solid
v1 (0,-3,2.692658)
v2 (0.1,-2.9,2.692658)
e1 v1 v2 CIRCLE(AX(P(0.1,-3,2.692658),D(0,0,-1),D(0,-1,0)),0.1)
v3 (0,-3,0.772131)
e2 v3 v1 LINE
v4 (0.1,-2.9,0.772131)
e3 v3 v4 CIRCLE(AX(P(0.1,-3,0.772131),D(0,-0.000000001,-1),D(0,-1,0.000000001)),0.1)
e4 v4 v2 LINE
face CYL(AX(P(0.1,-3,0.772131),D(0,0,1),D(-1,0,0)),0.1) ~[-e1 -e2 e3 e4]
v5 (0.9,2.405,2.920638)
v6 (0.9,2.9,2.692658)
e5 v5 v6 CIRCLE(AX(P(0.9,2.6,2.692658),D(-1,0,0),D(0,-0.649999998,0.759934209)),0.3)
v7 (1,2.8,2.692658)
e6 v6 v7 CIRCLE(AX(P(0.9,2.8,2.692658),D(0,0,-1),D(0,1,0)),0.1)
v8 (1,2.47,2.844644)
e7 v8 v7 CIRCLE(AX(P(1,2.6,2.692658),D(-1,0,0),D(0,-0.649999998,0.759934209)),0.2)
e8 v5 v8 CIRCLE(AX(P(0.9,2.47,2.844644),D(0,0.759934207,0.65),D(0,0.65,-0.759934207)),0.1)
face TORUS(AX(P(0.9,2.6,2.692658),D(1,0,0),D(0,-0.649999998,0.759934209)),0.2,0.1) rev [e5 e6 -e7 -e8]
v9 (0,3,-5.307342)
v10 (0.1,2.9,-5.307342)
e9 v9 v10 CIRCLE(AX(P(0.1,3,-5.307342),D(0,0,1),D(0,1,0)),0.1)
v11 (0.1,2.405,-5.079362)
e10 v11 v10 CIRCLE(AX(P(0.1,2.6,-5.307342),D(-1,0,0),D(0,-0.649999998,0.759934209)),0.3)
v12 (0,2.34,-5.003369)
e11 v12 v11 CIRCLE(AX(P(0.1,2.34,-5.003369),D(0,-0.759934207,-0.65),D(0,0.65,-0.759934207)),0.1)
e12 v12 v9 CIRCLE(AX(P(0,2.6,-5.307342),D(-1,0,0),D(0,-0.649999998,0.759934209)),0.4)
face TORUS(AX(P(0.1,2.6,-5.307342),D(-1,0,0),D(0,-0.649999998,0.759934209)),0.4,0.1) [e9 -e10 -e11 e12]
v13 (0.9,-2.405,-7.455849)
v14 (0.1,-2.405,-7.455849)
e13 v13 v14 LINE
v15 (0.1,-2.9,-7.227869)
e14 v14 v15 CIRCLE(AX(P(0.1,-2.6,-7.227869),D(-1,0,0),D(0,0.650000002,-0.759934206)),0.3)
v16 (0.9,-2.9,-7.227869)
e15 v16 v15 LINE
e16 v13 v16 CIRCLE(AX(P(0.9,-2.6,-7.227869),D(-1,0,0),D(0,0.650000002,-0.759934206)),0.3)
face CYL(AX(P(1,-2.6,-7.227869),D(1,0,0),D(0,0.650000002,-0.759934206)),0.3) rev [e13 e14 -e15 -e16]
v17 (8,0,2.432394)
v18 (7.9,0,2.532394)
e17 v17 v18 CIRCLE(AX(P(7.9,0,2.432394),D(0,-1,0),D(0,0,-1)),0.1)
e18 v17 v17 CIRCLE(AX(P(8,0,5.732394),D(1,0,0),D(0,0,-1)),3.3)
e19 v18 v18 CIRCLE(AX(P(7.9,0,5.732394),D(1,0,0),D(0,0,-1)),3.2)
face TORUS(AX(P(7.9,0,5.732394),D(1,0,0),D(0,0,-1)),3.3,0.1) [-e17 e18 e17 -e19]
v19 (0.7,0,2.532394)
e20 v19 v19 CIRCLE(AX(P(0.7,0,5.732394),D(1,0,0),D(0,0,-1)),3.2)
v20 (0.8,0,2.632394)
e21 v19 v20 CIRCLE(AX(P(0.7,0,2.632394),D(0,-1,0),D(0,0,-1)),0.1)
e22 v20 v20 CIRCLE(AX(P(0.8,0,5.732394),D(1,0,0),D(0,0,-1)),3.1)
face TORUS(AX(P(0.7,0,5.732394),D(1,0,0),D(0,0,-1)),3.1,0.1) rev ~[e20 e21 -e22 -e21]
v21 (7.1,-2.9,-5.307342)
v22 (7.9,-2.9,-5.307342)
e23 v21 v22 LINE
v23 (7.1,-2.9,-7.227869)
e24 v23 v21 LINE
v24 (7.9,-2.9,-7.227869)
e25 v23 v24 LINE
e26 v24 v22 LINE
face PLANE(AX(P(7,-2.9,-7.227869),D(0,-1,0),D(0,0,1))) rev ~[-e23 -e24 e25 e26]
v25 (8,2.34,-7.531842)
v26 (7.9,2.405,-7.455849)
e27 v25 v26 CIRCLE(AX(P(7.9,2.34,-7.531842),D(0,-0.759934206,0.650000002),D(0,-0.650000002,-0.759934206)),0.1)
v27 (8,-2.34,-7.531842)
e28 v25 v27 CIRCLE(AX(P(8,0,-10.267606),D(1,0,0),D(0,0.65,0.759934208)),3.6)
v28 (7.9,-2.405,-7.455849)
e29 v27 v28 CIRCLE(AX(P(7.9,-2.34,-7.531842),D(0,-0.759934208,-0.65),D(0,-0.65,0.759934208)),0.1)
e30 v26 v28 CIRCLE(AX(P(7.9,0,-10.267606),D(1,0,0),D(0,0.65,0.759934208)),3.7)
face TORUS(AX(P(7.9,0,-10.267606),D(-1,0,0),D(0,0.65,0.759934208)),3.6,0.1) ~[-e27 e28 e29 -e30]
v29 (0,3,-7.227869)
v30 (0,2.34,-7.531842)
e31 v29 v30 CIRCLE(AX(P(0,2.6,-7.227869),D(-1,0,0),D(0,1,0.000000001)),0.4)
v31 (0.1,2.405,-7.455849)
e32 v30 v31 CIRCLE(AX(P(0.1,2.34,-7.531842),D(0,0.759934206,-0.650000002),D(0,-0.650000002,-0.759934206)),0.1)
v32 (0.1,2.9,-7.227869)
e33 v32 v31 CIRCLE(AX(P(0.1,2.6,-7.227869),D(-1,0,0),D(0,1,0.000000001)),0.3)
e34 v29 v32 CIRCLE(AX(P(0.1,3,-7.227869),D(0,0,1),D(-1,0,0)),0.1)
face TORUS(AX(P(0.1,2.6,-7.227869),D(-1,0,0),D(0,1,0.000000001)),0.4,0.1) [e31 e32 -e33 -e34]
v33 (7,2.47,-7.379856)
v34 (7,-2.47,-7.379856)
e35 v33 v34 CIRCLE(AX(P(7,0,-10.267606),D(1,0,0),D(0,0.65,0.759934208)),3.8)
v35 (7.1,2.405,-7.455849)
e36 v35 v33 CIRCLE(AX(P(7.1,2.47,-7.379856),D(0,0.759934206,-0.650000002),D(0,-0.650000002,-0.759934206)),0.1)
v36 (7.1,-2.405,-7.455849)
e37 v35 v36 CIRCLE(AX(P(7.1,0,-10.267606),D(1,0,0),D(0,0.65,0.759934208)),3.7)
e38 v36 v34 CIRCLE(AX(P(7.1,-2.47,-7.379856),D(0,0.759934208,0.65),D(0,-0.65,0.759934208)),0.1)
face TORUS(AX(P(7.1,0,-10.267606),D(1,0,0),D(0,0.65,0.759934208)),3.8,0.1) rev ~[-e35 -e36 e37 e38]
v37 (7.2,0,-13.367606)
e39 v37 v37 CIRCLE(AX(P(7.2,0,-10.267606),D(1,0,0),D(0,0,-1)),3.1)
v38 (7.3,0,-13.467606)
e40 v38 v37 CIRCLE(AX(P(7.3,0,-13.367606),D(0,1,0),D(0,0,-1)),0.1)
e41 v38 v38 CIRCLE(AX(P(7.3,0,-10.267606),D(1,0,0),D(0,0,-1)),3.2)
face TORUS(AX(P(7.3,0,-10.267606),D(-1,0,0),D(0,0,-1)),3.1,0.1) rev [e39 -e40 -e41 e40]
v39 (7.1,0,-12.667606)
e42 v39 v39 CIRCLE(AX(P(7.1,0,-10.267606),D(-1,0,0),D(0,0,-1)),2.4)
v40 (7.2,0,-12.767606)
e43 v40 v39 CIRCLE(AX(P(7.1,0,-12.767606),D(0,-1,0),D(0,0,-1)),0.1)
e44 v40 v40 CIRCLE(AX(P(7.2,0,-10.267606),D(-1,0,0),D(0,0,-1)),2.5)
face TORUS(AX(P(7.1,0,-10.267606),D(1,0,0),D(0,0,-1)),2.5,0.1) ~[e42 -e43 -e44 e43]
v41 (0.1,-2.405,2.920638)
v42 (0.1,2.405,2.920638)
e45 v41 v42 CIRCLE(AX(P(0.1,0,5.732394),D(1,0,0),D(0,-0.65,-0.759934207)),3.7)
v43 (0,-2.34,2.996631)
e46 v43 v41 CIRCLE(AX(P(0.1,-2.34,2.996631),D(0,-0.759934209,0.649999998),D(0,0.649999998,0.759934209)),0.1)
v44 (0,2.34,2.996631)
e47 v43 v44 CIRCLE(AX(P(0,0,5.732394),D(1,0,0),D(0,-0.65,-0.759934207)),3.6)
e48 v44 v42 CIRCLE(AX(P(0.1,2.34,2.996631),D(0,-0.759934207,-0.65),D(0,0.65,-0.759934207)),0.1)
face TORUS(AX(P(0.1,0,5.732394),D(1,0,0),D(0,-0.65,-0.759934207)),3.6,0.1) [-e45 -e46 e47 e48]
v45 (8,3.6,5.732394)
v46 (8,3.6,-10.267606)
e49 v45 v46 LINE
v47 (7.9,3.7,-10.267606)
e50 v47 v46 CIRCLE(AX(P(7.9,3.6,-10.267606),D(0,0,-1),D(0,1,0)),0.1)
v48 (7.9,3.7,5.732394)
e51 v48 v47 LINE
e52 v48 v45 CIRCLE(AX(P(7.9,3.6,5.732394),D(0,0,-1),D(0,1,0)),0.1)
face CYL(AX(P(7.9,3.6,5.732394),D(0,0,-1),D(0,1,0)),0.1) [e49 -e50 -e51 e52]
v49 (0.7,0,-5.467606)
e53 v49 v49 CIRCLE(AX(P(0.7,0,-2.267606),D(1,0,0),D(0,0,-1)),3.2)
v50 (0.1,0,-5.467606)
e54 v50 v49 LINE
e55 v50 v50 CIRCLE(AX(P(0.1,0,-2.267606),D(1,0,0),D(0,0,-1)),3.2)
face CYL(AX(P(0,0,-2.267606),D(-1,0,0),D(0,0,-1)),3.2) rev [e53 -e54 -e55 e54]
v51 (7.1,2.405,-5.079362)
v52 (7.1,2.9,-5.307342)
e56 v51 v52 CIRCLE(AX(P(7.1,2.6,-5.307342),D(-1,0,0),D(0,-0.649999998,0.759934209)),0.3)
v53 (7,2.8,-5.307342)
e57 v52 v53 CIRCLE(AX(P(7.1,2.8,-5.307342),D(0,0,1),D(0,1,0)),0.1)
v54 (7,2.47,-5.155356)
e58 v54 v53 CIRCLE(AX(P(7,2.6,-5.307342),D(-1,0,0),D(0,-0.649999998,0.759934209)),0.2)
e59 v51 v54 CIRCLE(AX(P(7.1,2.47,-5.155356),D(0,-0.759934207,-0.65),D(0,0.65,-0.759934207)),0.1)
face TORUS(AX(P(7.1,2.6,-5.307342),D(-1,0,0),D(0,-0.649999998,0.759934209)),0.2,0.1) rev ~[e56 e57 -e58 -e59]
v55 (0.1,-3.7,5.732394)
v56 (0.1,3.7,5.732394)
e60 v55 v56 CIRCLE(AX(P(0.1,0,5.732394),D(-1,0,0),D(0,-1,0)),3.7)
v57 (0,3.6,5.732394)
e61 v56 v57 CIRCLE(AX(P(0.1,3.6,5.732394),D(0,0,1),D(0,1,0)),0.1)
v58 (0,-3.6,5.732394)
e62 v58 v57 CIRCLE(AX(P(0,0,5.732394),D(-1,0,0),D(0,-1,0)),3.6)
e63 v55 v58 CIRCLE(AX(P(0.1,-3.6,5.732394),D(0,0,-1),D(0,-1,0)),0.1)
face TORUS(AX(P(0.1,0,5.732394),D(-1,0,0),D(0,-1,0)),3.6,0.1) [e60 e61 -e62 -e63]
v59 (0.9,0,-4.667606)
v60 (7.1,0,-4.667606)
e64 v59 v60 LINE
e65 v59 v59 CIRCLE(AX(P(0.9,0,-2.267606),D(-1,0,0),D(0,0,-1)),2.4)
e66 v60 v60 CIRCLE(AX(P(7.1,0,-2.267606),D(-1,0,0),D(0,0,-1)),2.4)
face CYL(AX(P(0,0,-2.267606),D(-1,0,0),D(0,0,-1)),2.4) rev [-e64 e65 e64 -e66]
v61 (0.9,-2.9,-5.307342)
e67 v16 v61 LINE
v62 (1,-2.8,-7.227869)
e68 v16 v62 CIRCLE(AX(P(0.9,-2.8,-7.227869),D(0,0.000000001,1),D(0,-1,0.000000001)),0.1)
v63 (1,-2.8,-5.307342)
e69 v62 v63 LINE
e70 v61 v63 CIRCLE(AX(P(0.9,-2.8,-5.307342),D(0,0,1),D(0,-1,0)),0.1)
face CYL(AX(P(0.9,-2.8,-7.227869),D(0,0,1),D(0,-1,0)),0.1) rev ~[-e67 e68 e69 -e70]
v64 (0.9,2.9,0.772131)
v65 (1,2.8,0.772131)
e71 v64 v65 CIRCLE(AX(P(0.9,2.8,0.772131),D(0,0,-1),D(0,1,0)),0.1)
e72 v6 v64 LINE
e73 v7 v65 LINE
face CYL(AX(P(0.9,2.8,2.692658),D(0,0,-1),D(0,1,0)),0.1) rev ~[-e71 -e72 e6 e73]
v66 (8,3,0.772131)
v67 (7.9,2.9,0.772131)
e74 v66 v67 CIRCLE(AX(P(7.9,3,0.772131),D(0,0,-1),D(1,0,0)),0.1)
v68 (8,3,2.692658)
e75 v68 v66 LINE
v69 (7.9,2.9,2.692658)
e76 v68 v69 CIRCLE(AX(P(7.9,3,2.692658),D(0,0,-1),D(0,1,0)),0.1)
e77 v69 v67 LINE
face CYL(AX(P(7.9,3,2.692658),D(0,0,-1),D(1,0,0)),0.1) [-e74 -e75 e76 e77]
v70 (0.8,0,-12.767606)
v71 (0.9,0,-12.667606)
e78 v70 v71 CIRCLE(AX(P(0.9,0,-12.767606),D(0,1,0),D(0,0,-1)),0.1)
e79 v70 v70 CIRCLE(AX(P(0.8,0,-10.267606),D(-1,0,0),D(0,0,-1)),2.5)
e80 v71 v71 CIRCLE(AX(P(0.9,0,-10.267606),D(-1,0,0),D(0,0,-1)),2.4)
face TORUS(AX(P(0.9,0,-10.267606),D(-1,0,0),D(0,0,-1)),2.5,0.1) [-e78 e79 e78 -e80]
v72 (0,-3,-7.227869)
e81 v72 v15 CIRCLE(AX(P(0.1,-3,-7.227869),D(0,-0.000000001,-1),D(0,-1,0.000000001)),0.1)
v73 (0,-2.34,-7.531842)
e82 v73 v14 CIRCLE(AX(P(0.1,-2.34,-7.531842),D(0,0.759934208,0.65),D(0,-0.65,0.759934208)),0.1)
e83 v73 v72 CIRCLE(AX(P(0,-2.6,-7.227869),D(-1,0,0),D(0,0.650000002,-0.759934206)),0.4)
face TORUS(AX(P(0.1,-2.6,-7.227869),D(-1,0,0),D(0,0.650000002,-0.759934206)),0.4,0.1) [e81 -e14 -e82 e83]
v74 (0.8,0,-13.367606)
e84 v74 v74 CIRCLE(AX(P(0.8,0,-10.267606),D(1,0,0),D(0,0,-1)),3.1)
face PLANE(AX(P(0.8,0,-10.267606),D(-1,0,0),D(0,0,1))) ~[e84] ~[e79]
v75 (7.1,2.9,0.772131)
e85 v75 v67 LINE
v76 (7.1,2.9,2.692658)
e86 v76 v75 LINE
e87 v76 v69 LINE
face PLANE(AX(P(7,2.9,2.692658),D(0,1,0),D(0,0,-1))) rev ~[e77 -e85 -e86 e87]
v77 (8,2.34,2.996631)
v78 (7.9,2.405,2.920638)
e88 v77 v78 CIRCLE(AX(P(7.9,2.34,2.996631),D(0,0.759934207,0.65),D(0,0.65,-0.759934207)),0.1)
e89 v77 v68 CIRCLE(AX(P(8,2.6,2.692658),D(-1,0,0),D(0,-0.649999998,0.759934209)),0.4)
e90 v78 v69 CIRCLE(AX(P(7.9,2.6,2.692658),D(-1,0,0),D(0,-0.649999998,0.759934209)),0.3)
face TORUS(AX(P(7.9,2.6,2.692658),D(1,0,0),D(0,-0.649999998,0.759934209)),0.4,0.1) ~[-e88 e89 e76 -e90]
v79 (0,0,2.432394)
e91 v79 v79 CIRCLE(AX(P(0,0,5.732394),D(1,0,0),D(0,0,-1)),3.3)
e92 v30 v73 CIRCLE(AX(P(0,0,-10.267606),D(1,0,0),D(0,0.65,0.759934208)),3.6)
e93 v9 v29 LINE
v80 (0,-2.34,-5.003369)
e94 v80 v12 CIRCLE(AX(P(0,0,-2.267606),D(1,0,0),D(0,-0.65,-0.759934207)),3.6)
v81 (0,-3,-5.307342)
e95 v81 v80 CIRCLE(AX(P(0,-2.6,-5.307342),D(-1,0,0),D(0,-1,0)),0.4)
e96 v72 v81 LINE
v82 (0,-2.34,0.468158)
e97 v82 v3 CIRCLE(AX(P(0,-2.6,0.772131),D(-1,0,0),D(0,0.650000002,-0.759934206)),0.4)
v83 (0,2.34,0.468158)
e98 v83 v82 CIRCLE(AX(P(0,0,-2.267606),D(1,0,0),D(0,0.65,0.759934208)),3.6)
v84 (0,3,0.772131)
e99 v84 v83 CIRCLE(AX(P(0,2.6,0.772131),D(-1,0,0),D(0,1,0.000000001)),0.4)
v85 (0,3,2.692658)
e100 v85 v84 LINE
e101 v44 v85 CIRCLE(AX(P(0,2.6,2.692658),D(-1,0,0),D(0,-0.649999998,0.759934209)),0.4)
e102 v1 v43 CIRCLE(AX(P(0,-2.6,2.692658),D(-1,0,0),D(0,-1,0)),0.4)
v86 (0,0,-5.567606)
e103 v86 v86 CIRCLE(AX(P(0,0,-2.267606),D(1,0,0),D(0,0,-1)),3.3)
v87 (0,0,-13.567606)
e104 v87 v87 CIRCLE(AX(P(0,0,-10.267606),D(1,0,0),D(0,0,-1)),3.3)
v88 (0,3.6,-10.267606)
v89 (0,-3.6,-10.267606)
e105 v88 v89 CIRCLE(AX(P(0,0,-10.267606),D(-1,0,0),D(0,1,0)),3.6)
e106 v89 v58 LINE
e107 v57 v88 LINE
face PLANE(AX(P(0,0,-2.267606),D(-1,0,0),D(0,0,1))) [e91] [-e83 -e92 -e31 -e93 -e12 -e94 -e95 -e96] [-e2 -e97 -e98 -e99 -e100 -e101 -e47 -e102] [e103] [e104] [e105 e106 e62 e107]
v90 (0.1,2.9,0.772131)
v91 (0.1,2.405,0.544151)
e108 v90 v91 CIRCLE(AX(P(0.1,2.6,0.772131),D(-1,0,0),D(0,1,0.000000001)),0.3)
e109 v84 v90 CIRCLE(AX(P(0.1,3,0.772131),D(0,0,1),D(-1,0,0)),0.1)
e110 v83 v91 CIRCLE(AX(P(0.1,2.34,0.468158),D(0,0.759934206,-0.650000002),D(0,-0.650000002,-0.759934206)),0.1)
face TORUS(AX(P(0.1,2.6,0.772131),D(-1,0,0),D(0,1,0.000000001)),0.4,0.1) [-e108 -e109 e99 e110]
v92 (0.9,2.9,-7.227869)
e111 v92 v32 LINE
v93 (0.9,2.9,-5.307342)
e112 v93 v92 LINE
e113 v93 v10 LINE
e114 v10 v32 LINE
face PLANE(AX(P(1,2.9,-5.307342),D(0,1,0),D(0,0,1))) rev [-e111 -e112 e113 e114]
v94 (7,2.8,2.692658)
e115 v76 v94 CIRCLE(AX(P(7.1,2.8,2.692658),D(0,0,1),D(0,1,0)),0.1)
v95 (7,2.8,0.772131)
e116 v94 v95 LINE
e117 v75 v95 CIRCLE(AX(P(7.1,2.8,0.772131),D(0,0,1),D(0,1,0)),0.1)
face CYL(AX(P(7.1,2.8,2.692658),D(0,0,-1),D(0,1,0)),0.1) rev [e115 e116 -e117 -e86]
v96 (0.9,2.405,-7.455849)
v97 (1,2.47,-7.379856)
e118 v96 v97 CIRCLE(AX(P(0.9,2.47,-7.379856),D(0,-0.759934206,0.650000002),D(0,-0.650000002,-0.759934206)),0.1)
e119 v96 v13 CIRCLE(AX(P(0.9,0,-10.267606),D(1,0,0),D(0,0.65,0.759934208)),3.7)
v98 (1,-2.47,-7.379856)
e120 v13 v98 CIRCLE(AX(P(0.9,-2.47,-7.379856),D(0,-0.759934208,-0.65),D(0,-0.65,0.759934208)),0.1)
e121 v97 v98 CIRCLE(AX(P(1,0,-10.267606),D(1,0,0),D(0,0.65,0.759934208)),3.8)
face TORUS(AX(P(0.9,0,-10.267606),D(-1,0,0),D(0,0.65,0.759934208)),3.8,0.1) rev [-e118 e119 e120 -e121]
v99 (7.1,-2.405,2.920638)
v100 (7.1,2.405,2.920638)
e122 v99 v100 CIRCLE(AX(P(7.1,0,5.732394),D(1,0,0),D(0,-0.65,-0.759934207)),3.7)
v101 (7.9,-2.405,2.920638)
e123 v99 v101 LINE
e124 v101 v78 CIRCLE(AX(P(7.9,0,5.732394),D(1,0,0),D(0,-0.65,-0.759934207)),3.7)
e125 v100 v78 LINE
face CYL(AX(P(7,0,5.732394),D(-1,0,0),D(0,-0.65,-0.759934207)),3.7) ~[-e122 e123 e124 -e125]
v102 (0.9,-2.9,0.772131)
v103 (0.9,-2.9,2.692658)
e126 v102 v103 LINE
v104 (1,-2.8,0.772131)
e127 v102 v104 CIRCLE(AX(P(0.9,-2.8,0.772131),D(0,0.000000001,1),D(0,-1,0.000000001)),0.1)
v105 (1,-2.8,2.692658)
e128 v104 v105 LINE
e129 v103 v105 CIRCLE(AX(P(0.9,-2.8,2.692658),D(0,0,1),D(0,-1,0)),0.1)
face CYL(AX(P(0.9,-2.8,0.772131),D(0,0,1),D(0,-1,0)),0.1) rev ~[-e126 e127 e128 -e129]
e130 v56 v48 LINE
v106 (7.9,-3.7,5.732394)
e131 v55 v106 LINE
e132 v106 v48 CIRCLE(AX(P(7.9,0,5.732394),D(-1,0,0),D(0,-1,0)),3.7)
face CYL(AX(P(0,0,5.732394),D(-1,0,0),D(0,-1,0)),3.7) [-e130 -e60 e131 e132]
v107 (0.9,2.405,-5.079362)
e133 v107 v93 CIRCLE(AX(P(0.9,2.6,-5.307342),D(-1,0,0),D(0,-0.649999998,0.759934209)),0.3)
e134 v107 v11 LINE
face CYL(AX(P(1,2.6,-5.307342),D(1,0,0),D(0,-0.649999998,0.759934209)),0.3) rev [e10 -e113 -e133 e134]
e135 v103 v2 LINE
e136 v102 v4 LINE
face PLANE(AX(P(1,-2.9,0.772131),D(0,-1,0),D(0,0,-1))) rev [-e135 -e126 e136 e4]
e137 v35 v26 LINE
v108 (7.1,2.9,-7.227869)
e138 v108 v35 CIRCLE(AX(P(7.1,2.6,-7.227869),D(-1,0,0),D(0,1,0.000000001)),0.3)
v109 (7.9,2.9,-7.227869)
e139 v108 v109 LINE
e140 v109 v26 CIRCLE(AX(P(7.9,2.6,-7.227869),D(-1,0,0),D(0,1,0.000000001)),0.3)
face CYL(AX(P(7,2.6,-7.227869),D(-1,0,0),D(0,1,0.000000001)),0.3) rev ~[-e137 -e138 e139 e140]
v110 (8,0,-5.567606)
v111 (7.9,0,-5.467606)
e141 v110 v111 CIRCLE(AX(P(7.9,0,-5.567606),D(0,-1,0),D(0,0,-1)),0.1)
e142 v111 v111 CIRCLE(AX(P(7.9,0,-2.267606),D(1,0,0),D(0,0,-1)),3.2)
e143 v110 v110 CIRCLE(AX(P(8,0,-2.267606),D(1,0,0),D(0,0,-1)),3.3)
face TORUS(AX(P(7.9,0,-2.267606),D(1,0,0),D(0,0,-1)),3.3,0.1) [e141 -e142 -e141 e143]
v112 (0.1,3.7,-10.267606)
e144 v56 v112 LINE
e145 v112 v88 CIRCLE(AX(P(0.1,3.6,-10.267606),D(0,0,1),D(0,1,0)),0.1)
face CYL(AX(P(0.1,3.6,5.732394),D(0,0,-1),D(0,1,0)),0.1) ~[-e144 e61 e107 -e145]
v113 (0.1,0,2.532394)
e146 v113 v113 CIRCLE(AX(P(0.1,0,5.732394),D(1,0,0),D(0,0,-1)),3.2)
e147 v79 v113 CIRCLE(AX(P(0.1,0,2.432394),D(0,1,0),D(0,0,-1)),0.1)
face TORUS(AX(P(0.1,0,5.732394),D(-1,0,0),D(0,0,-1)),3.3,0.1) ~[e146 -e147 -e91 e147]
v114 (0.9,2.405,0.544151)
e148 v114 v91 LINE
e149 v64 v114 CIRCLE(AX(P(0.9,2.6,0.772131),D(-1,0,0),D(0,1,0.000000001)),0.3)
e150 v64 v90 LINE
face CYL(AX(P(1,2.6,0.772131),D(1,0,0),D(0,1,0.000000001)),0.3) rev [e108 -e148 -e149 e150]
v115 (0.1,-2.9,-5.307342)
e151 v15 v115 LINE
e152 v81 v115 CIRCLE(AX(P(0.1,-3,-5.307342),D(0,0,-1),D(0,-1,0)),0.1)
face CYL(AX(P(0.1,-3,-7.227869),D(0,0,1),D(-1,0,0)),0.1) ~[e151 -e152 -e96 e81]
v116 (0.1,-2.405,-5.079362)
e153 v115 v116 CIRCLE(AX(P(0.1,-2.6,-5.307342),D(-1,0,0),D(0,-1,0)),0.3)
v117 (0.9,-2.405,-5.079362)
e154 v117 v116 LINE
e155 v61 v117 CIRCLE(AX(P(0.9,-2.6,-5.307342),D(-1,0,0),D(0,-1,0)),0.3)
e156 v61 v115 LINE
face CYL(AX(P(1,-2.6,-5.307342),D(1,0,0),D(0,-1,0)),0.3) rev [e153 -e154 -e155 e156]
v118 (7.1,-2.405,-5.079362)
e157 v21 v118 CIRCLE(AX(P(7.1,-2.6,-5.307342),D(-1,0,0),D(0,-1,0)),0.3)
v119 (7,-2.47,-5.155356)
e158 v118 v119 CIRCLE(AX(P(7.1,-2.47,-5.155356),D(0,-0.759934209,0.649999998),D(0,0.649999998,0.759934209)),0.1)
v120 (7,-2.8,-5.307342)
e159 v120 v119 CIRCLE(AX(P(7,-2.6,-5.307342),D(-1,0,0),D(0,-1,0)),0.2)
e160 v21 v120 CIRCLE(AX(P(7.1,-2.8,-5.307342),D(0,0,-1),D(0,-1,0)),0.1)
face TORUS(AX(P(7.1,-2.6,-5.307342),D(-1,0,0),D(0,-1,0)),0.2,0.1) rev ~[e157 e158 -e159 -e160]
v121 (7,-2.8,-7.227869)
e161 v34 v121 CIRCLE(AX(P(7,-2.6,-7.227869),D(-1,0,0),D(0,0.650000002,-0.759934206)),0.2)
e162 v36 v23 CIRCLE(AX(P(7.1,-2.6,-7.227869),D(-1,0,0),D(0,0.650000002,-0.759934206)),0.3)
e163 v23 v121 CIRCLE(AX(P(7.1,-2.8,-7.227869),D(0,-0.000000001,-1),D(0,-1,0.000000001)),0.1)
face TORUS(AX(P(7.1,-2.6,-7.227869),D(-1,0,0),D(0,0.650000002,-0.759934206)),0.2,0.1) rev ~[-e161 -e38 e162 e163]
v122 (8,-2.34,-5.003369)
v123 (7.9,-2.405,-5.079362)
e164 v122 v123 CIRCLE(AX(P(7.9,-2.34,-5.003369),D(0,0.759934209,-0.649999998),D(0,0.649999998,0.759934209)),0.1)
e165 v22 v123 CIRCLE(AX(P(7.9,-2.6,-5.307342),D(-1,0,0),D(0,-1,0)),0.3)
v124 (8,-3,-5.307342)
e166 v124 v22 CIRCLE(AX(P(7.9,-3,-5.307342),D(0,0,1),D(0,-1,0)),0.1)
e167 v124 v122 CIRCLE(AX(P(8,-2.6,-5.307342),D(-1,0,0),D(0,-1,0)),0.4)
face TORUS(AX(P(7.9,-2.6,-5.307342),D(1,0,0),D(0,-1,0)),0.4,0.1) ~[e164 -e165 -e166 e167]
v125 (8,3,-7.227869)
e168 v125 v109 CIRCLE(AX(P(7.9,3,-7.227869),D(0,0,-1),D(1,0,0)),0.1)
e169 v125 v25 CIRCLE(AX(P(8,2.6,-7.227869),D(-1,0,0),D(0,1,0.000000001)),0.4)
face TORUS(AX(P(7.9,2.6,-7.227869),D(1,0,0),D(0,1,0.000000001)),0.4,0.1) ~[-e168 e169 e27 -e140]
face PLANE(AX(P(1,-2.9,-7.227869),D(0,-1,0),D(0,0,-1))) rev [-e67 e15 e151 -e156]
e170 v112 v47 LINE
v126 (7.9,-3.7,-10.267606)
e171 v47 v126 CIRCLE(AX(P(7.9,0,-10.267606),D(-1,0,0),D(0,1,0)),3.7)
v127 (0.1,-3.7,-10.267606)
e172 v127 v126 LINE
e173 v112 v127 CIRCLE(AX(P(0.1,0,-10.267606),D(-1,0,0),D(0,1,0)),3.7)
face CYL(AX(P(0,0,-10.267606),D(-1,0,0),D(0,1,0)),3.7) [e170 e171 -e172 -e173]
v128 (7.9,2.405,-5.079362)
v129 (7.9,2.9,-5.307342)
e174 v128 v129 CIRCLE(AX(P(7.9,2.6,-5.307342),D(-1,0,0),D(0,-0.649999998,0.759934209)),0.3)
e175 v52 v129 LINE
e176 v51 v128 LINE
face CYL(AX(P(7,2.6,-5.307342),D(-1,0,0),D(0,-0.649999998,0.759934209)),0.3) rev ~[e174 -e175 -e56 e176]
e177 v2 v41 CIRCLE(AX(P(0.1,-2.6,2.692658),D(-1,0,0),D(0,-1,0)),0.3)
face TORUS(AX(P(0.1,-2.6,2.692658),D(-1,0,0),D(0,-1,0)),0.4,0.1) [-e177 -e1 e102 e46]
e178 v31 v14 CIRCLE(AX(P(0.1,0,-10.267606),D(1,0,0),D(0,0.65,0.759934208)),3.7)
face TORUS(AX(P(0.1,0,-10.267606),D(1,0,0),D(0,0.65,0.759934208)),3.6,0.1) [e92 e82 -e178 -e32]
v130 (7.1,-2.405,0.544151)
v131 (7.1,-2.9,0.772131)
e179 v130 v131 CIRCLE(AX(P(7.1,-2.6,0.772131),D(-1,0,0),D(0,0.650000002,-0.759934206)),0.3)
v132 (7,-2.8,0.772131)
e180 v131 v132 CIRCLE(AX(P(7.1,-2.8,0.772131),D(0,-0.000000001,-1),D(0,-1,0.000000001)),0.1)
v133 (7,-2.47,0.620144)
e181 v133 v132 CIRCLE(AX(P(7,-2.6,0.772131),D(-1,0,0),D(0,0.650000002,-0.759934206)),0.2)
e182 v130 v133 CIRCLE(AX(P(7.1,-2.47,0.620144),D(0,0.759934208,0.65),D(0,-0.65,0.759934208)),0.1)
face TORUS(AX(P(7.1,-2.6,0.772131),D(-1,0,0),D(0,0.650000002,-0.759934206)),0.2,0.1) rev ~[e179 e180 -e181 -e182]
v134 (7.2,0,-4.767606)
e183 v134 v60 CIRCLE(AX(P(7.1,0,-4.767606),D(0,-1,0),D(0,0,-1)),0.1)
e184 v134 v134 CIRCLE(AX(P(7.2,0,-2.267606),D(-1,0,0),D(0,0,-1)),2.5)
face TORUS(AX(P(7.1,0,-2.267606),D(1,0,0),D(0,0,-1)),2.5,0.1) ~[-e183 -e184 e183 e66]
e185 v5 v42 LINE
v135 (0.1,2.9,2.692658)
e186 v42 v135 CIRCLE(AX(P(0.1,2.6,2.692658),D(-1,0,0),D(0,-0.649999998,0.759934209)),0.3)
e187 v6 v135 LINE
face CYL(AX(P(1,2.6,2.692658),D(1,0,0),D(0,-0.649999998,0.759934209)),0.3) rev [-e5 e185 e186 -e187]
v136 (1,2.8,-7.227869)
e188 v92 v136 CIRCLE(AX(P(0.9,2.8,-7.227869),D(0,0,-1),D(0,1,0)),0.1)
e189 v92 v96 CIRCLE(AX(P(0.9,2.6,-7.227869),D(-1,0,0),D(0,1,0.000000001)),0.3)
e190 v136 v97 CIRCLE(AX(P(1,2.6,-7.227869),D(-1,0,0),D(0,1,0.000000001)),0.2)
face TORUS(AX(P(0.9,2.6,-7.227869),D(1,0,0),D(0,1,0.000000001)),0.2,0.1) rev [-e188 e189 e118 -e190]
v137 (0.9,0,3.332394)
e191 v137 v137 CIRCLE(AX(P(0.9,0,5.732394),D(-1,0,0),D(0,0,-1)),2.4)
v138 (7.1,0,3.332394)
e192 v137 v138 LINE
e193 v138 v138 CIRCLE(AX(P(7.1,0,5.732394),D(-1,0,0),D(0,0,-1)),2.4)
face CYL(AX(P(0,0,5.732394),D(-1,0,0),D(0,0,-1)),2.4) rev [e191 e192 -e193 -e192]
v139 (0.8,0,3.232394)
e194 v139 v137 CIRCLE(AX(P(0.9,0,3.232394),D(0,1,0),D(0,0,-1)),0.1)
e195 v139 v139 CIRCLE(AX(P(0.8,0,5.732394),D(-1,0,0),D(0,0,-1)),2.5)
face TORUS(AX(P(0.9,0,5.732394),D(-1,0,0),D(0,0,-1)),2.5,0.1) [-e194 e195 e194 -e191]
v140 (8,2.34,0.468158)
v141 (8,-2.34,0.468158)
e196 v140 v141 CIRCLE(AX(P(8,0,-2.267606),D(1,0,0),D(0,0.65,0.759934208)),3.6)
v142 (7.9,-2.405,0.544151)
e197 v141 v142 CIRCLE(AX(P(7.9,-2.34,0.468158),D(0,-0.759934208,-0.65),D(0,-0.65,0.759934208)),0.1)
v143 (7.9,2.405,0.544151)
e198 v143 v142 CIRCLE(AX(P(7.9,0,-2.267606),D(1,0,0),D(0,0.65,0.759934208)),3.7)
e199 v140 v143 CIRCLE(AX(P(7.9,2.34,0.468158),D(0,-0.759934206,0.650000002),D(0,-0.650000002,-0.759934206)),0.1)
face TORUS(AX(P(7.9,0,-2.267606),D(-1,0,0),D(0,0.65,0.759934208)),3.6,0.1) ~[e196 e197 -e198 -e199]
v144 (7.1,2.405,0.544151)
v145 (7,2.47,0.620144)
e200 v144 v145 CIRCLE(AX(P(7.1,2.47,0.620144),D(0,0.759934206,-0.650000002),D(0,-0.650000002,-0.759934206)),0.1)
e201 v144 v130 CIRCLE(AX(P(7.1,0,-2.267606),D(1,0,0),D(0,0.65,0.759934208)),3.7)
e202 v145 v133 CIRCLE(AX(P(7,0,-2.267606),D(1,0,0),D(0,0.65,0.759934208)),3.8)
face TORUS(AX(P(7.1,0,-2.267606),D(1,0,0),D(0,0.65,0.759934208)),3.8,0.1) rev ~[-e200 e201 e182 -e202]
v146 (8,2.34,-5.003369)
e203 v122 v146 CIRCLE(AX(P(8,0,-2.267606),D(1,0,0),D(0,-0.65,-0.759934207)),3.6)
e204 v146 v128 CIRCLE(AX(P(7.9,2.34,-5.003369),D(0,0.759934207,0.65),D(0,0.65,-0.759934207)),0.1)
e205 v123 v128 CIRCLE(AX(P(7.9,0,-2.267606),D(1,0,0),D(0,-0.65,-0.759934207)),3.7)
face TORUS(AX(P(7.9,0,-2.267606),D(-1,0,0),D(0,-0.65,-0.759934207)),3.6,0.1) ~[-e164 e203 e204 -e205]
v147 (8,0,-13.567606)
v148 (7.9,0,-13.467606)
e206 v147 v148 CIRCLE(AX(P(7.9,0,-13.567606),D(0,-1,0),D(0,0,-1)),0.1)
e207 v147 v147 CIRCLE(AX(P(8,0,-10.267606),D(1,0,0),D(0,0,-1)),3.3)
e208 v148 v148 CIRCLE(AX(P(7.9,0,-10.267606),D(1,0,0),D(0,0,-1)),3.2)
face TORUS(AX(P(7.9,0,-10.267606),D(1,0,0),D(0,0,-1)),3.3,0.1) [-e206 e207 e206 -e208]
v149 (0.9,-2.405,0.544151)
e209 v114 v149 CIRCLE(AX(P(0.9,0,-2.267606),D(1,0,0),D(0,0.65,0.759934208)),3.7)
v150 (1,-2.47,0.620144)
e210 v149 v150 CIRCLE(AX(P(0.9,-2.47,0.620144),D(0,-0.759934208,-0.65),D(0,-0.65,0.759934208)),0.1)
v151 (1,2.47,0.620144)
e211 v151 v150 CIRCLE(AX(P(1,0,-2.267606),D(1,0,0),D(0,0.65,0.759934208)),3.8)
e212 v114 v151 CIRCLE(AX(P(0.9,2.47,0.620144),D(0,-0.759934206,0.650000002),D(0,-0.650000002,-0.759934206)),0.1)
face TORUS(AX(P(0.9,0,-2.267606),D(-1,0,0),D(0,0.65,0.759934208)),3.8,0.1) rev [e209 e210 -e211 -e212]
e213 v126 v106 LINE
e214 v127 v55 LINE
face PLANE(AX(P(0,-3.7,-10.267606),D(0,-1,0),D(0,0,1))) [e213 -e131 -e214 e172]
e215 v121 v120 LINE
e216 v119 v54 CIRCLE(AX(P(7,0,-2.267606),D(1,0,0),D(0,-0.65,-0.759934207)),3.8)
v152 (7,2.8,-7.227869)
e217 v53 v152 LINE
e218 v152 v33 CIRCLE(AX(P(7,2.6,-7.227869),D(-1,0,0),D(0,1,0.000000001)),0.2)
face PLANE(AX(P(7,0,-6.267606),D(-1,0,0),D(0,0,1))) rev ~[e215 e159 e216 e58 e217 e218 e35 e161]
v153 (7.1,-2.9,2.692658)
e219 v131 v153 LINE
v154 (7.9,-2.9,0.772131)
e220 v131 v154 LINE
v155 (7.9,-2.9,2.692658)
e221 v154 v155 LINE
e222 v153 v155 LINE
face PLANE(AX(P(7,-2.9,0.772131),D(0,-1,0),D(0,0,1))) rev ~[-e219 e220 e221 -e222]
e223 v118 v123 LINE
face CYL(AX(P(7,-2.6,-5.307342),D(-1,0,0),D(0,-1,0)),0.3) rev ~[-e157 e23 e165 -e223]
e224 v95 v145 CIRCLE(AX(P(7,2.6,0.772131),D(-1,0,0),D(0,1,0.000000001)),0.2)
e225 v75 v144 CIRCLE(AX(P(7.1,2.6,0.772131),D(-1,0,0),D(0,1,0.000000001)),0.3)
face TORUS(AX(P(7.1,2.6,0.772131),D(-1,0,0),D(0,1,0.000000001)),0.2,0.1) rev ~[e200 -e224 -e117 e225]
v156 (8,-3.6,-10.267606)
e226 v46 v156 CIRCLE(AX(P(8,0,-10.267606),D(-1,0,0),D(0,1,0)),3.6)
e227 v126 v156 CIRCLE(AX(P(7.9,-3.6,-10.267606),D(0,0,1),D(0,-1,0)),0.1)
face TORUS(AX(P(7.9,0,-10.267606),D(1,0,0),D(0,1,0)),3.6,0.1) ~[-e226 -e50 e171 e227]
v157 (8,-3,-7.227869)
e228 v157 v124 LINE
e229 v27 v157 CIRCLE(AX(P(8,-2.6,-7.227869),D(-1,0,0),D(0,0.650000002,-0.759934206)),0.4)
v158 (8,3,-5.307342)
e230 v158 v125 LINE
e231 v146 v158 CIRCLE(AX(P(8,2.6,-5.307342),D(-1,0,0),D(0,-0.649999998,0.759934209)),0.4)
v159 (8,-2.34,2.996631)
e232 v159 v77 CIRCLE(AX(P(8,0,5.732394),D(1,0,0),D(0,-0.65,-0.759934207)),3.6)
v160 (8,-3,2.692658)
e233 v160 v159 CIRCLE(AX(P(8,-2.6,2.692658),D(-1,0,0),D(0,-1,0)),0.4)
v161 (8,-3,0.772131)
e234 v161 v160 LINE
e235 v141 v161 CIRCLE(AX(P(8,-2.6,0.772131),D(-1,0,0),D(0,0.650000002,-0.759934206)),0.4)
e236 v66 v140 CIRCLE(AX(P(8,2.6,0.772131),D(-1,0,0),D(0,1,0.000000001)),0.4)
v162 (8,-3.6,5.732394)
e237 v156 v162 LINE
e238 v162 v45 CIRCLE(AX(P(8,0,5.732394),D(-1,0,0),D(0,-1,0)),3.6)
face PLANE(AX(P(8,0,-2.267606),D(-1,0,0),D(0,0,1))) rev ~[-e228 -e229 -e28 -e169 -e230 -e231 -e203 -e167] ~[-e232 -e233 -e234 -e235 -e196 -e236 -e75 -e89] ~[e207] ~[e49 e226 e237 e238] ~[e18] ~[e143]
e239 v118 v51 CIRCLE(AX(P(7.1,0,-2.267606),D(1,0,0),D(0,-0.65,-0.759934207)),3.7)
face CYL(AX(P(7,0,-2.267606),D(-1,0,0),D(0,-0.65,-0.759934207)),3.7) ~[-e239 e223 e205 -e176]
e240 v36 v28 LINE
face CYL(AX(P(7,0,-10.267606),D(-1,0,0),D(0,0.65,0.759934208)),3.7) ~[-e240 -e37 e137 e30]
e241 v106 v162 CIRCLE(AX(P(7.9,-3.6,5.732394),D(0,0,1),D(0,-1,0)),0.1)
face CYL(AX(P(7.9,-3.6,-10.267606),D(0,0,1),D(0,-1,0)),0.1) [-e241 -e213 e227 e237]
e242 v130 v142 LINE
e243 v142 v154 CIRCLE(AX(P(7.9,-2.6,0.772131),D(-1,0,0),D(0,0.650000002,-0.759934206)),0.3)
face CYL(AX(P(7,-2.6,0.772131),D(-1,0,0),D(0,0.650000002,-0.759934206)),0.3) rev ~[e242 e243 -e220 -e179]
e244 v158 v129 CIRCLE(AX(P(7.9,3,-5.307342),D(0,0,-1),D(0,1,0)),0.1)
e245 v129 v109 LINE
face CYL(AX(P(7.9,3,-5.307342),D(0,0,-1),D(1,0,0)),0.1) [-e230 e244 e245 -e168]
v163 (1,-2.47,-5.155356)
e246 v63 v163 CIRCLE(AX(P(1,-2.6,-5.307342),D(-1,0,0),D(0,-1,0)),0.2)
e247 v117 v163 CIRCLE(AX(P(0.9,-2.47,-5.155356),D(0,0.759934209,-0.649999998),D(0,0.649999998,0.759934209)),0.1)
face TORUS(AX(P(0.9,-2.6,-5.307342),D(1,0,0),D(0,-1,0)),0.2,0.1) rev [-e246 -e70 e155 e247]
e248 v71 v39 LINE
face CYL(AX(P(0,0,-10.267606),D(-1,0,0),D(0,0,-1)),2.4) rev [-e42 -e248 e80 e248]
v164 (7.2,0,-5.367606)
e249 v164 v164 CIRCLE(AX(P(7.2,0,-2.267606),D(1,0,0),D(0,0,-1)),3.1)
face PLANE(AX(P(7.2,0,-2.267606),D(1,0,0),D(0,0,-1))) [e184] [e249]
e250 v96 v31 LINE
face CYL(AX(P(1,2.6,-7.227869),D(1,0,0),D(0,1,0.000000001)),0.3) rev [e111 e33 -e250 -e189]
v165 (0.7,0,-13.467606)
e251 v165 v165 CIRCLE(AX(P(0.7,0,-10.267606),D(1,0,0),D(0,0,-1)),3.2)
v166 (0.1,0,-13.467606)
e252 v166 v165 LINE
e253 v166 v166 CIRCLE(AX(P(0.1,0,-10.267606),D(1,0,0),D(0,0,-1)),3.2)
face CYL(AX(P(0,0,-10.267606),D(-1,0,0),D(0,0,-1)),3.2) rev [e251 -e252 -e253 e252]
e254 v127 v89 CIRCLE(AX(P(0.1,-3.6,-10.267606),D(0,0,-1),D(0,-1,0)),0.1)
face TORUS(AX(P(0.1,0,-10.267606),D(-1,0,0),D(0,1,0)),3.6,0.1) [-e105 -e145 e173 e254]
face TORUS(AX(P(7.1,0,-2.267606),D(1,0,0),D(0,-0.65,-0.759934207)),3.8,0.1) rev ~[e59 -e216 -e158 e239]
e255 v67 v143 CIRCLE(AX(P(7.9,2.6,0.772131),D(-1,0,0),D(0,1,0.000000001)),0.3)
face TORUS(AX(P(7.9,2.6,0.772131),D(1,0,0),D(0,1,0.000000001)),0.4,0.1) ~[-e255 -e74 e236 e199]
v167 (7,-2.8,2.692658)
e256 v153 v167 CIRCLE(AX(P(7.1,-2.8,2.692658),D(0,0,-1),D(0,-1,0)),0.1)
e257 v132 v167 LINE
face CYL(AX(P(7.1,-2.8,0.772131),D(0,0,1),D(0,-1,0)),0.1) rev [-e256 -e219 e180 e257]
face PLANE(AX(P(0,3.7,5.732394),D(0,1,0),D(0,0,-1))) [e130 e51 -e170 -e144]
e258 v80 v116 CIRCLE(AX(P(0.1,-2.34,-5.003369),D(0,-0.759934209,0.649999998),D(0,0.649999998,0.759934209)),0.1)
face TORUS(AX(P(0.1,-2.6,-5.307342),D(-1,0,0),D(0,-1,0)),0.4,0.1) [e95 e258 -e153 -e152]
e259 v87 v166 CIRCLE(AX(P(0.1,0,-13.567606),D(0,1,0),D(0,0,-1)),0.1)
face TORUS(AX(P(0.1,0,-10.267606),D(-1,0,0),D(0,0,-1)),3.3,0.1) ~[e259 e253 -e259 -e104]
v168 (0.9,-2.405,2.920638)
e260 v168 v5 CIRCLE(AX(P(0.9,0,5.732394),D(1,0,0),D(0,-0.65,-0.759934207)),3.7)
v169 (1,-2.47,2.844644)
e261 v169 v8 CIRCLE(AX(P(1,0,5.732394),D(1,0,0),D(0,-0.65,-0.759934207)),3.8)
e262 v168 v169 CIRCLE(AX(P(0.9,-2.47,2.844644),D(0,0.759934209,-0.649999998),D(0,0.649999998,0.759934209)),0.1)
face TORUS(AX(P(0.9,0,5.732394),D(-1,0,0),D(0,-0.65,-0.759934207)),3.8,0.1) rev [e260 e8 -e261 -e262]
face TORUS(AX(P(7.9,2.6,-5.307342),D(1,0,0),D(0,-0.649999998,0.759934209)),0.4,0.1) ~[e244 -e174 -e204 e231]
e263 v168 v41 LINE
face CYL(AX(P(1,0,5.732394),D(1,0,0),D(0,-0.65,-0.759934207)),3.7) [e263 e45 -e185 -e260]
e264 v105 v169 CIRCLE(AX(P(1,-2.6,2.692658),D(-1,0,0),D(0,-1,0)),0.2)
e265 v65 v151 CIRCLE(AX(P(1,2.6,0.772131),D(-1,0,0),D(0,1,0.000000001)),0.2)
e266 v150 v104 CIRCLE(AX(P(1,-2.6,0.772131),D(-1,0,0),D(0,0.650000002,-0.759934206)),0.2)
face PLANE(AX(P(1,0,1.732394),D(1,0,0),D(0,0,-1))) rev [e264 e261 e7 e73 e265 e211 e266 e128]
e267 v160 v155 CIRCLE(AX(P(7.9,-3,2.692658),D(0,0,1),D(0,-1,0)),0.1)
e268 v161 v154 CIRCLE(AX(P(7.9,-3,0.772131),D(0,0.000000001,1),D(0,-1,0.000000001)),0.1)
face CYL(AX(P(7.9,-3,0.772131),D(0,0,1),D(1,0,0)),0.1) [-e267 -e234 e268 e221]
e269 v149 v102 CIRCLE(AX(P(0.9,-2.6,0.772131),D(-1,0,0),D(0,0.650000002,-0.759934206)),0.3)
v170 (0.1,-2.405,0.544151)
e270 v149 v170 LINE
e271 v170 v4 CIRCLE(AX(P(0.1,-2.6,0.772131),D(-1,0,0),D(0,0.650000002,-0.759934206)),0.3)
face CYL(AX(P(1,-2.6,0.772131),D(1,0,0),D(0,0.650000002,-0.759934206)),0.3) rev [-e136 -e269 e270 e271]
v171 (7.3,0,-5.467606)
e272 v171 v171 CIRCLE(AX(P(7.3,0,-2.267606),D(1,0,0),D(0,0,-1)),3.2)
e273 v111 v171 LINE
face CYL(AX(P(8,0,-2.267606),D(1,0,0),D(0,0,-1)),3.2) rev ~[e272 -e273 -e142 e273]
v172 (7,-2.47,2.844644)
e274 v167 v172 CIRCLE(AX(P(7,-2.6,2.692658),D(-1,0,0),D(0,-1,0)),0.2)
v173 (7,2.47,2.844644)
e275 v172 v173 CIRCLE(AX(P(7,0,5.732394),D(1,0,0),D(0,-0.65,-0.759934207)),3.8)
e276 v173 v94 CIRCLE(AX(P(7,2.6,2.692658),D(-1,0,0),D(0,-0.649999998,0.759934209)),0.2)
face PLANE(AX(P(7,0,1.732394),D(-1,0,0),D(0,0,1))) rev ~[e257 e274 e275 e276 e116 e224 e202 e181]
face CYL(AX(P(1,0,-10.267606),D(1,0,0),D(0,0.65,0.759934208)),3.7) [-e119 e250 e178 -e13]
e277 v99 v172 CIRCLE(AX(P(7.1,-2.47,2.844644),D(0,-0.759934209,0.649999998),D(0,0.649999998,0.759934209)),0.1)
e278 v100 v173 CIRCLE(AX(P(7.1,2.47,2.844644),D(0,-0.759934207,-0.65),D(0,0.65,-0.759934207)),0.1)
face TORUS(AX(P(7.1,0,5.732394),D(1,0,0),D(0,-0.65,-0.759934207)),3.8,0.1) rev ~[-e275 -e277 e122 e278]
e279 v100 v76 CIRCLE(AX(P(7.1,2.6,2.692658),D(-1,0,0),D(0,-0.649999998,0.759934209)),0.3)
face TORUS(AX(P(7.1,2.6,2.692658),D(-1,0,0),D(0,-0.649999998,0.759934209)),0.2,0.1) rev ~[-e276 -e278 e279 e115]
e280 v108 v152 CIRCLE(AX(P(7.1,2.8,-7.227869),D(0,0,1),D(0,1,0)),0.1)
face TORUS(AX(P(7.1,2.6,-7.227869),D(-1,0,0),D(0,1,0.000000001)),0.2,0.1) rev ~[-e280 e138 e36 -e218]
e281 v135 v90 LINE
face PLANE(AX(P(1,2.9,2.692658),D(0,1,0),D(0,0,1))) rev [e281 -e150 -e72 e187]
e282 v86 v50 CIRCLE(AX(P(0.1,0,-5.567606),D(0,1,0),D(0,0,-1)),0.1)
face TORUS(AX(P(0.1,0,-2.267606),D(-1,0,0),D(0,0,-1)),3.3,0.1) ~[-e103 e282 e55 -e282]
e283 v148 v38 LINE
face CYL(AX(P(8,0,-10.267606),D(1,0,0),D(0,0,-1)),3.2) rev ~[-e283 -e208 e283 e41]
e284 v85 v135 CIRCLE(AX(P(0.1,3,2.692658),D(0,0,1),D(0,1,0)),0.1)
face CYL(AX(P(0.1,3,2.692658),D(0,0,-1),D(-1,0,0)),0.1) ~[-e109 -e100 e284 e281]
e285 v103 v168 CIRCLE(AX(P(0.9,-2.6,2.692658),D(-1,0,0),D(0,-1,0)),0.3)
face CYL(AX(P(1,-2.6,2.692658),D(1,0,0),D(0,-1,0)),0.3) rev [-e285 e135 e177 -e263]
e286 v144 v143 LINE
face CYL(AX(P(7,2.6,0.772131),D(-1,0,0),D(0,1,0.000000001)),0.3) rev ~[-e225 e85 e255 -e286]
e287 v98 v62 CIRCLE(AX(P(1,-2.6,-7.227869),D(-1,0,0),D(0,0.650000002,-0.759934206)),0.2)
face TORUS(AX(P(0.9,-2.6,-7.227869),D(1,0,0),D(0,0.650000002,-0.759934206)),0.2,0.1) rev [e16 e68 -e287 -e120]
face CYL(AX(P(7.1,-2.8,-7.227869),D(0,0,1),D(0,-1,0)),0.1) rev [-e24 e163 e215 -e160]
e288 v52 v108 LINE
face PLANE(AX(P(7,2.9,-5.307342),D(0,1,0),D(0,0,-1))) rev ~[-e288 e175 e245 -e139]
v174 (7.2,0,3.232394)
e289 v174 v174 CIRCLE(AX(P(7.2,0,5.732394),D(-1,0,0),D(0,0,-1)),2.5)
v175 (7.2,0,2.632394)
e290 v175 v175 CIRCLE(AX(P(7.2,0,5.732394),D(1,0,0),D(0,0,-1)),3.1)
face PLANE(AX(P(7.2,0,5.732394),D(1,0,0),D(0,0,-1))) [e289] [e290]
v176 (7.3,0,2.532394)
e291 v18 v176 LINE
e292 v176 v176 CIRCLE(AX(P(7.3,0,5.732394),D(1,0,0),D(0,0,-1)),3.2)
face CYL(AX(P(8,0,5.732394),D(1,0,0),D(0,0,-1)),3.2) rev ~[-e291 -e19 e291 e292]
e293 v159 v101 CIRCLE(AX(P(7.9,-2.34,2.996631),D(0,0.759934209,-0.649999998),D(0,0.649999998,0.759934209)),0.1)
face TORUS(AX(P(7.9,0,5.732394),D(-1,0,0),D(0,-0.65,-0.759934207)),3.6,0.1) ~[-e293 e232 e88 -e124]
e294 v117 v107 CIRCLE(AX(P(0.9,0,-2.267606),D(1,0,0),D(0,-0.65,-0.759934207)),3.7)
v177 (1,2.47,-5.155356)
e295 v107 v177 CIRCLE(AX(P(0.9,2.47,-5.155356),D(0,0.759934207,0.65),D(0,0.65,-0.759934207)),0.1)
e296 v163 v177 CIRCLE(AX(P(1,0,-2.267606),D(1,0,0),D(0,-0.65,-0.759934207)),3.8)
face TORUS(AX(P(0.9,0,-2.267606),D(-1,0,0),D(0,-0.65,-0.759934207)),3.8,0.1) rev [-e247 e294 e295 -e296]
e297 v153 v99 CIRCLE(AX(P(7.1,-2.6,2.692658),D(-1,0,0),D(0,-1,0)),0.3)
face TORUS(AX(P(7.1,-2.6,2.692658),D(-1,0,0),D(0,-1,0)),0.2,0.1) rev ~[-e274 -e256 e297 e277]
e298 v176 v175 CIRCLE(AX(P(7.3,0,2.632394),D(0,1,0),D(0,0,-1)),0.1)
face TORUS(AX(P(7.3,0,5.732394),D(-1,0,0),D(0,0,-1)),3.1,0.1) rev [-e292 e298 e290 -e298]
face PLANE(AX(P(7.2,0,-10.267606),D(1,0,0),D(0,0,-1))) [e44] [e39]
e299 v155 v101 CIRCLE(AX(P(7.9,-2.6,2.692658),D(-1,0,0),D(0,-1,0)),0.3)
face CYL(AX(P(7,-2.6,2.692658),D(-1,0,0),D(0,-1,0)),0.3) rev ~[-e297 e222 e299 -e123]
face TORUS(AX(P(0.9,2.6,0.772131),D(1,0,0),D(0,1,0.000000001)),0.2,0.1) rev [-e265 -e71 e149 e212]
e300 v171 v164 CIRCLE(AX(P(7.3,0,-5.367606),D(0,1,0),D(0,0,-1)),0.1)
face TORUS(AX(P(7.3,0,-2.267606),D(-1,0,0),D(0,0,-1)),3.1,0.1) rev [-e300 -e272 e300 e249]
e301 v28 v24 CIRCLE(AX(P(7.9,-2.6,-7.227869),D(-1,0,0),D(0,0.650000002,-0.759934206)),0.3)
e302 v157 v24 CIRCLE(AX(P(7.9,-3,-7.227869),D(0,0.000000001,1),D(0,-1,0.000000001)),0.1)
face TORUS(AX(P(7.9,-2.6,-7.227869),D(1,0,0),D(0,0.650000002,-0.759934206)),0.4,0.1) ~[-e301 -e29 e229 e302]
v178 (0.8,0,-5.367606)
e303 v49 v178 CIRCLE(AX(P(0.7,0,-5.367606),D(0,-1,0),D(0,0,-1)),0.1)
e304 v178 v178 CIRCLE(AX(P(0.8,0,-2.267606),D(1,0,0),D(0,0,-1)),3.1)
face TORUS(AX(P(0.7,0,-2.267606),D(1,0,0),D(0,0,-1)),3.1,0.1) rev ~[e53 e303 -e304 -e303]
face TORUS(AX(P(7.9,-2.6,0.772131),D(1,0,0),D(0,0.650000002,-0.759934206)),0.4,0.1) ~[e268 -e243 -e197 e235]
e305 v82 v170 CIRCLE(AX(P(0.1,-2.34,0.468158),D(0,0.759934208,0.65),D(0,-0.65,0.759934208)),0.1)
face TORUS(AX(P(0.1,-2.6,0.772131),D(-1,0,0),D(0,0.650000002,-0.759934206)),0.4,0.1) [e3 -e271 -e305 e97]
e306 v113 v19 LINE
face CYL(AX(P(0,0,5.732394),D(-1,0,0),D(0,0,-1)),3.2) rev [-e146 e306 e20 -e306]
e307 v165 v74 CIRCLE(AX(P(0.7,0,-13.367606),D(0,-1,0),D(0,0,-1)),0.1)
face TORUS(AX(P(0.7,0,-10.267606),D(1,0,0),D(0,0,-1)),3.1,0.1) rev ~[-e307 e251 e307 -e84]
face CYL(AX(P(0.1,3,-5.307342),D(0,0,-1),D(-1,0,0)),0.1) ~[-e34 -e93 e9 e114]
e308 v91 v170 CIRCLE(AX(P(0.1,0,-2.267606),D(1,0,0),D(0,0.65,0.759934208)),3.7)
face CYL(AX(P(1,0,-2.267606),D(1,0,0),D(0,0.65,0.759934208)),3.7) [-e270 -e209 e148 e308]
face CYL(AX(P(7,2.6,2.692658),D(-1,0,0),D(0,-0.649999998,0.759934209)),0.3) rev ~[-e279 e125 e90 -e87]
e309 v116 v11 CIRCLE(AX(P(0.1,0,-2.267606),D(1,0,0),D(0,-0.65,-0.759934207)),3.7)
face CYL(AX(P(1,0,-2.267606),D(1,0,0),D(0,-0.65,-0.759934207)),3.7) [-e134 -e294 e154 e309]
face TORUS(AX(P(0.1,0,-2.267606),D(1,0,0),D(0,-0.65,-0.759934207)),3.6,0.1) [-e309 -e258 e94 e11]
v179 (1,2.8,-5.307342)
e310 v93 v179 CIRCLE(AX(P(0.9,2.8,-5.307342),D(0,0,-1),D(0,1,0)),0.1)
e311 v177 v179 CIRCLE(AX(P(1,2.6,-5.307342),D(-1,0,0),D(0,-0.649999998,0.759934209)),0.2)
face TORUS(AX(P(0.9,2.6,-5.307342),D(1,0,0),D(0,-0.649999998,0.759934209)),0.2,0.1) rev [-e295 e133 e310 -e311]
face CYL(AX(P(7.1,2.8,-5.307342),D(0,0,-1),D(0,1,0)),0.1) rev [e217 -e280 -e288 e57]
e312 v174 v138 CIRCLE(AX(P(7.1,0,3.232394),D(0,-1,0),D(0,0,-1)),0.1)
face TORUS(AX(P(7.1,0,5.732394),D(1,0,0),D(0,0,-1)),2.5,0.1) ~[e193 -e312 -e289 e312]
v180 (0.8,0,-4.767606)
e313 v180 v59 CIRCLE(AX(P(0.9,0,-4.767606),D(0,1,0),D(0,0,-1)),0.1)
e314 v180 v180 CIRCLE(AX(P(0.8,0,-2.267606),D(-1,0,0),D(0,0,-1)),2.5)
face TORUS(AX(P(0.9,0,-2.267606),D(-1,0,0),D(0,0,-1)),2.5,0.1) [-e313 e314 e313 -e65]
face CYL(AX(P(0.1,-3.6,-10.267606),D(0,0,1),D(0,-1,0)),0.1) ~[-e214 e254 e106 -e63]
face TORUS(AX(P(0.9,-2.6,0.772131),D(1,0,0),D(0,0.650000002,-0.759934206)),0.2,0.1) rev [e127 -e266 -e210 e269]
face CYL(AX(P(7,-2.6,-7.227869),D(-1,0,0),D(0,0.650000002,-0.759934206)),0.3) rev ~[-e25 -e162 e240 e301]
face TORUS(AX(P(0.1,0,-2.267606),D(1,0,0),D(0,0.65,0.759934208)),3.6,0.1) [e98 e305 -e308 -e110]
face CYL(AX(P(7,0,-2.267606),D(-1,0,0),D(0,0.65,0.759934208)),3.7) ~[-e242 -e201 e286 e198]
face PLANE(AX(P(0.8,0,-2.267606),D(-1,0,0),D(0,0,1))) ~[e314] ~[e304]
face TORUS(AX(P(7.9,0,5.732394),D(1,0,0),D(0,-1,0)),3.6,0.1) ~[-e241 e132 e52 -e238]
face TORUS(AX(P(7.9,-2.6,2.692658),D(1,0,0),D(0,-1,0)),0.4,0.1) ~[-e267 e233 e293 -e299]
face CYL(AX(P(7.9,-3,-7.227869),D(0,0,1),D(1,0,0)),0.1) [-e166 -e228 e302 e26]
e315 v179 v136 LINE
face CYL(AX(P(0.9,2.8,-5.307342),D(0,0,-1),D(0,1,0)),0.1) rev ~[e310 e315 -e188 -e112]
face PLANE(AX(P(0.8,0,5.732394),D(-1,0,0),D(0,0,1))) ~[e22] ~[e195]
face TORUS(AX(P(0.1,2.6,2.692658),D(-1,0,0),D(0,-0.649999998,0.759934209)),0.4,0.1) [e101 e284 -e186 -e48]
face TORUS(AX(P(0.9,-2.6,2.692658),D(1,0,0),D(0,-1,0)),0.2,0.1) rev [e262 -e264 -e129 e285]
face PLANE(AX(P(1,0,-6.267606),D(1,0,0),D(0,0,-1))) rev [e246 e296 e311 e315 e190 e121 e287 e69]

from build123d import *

# Parameters (mm, degrees)
SKETCH1_R           = 2.4
BOSS_EXTRUDE1_DEPTH = 8
SKETCH2_R           = 3.2
CUT_EXTRUDE1_DEPTH  = 0.8
CUT_EXTRUDE2_START  = -1
CUT_EXTRUDE2_DEPTH  = 1
FILLET1_R           = 0.1


with BuildPart() as part:
    # Sketch1 → Boss-Extrude1 (new body)
    with BuildSketch(Plane(origin=(0, 0, 0), x_dir=(0, 0, -1), z_dir=(1, 0, 0))):
        with BuildLine():
            Line((-5.732394366, 3.7), (10.267605634, 3.7))
            ThreePointArc((10.267605634, 3.7), (13.967605634, 0), (10.267605634, -3.7))
            Line((10.267605634, -3.7), (-5.732394366, -3.7))
            ThreePointArc((-5.732394366, -3.7), (-9.432394366, 0), (-5.732394366, 3.7))
        make_face()
        with Locations((-5.732394366, 0)):
            Circle(SKETCH1_R, mode=Mode.SUBTRACT)
        with Locations((2.267605634, 0)):
            Circle(SKETCH1_R, mode=Mode.SUBTRACT)
        with Locations((10.267605634, 0)):
            Circle(SKETCH1_R, mode=Mode.SUBTRACT)
    extrude(amount=BOSS_EXTRUDE1_DEPTH)

    # Sketch2 → Cut-Extrude1 (cut)
    with BuildSketch(Plane(origin=(8, 0, 0), x_dir=(0, 0, -1), z_dir=(1, 0, 0))):
        with Locations((-5.732394366, 0)):
            Circle(SKETCH2_R)
        with Locations((2.267605634, 0)):
            Circle(SKETCH2_R)
        with Locations((10.267605634, 0)):
            Circle(SKETCH2_R)
    cut_extrude1 = extrude(amount=-CUT_EXTRUDE1_DEPTH, mode=Mode.SUBTRACT)

    # Sketch3 → Cut-Extrude2 (cut)
    with BuildSketch(Plane(origin=(8, 0, 0), x_dir=(0, 0, -1), z_dir=(1, 0, 0)).offset(CUT_EXTRUDE2_START)):
        with BuildLine():
            Line((-2.692657535, 2.9), (-0.772131197, 2.9))
            ThreePointArc((-0.772131197, 2.9), (-0.499642665, 2.725499004), (-0.544150935, 2.405))
            ThreePointArc((-0.544150935, 2.405), (-1.432394366, 0), (-0.544150935, -2.405))
            ThreePointArc((-0.544150935, -2.405), (-0.499642665, -2.725499004), (-0.772131197, -2.9))
            Line((-0.772131197, -2.9), (-2.692657535, -2.9))
            ThreePointArc((-2.692657535, -2.9), (-2.965146067, -2.725499004), (-2.920637798, -2.405))
            ThreePointArc((-2.920637798, -2.405), (-2.032394366, 0), (-2.920637798, 2.405))
            ThreePointArc((-2.920637798, 2.405), (-2.965146067, 2.725499004), (-2.692657535, 2.9))
        make_face()
        with BuildLine():
            Line((5.307342465, 2.9), (7.227868803, 2.9))
            ThreePointArc((7.227868803, 2.9), (7.500357335, 2.725499004), (7.455849065, 2.405))
            ThreePointArc((7.455849065, 2.405), (6.567605634, 0), (7.455849065, -2.405))
            ThreePointArc((7.455849065, -2.405), (7.500357335, -2.725499004), (7.227868803, -2.9))
            Line((7.227868803, -2.9), (5.307342465, -2.9))
            ThreePointArc((5.307342465, -2.9), (5.034853933, -2.725499004), (5.079362202, -2.405))
            ThreePointArc((5.079362202, -2.405), (5.967605634, 0), (5.079362202, 2.405))
            ThreePointArc((5.079362202, 2.405), (5.034853933, 2.725499004), (5.307342465, 2.9))
        make_face()
    cut_extrude2 = extrude(amount=CUT_EXTRUDE2_DEPTH, mode=Mode.SUBTRACT)

    # Mirror1: Cut-Extrude1, Cut-Extrude2 across plane
    add(cut_extrude1.mirror(Plane(origin=(4, 0, 0), x_dir=(0, 0, 1), z_dir=(1, 0, 0))), mode=Mode.SUBTRACT)
    add(cut_extrude2.mirror(Plane(origin=(4, 0, 0), x_dir=(0, 0, 1), z_dir=(1, 0, 0))), mode=Mode.SUBTRACT)

    # Fillet1
    fillet1_edges = [part.edges().sort_by_distance(p)[0] for p in [
        (8, 0, -13.967605634),
        (0, 0, -7.067605634),
        (0.8, 0, -7.867605634),
        (0.8, 0, -7.067605634),
        (0, -2.725499004, 2.965146067),
        (0, -2.9, 1.732394366),
        (0, -2.725499004, 0.499642665),
        (0, 0, 1.432394366),
        (0, 2.725499004, 0.499642665),
        (0, 2.9, 1.732394366),
        (0, 2.725499004, 2.965146067),
        (0, 0, 2.032394366),
        (1, -2.725499004, 2.965146067),
        (1, -2.9, 1.732394366),
        (1, -2.725499004, 0.499642665),
        (1, 0, 1.432394366),
        (1, 2.725499004, 0.499642665),
        (1, 2.9, 1.732394366),
        (1, 2.725499004, 2.965146067),
        (1, 0, 2.032394366),
        (0, -2.725499004, -5.034853933),
        (0, -2.9, -6.267605634),
        (8, 3.7, -2.267605634),
        (0, -2.725499004, -7.500357335),
        (0, 0, -6.567605634),
        (0, 2.725499004, -7.500357335),
        (0, 2.9, -6.267605634),
        (0, 2.725499004, -5.034853933),
        (0, 0, -5.967605634),
        (1, -2.725499004, -5.034853933),
        (1, -2.9, -6.267605634),
        (1, -2.725499004, -7.500357335),
        (1, 0, -6.567605634),
        (1, 2.725499004, -7.500357335),
        (1, 2.9, -6.267605634),
        (1, 2.725499004, -5.034853933),
        (1, 0, -5.967605634),
        (7.2, 0, 8.932394366),
        (7.2, 0, 8.132394366),
        (8, 0, 8.932394366),
        (7.2, 0, 0.932394366),
        (7.2, 0, 0.132394366),
        (8, 0, 0.932394366),
        (7.2, 0, -7.067605634),
        (7.2, 0, -7.867605634),
        (8, 0, -7.067605634),
        (8, 0, 9.432394366),
        (0, 3.7, -2.267605634),
        (7, -2.725499004, 2.965146067),
        (7, 0, 2.032394366),
        (7, 2.725499004, 2.965146067),
        (0, 0, -13.967605634),
        (7, 2.9, 1.732394366),
        (7, 2.725499004, 0.499642665),
        (7, 0, 1.432394366),
        (7, -2.725499004, 0.499642665),
        (7, -2.9, 1.732394366),
        (8, -2.725499004, 2.965146067),
        (8, -2.9, 1.732394366),
        (8, -2.725499004, 0.499642665),
        (8, 0, 1.432394366),
        (8, 2.725499004, 0.499642665),
        (8, 2.9, 1.732394366),
        (0, -3.7, -2.267605634),
        (8, 2.725499004, 2.965146067),
        (8, 0, 2.032394366),
        (0, 0, 9.432394366),
        (7, -2.725499004, -5.034853933),
        (7, 0, -5.967605634),
        (7, 2.725499004, -5.034853933),
        (7, 2.9, -6.267605634),
        (7, 2.725499004, -7.500357335),
        (8, -3.7, -2.267605634),
        (7, 0, -6.567605634),
        (7, -2.725499004, -7.500357335),
        (7, -2.9, -6.267605634),
        (8, -2.725499004, -5.034853933),
        (8, -2.9, -6.267605634),
        (8, -2.725499004, -7.500357335),
        (8, 0, -6.567605634),
        (8, 2.725499004, -7.500357335),
        (8, 2.9, -6.267605634),
        (8, 2.725499004, -5.034853933),
        (8, 0, -5.967605634),
        (0, 0, 8.932394366),
        (0.8, 0, 8.132394366),
        (0.8, 0, 8.932394366),
        (0, 0, 0.932394366),
        (0.8, 0, 0.132394366),
        (0.8, 0, 0.932394366),
    ]]
    fillet(fillet1_edges, radius=FILLET1_R)


solid = part.part
